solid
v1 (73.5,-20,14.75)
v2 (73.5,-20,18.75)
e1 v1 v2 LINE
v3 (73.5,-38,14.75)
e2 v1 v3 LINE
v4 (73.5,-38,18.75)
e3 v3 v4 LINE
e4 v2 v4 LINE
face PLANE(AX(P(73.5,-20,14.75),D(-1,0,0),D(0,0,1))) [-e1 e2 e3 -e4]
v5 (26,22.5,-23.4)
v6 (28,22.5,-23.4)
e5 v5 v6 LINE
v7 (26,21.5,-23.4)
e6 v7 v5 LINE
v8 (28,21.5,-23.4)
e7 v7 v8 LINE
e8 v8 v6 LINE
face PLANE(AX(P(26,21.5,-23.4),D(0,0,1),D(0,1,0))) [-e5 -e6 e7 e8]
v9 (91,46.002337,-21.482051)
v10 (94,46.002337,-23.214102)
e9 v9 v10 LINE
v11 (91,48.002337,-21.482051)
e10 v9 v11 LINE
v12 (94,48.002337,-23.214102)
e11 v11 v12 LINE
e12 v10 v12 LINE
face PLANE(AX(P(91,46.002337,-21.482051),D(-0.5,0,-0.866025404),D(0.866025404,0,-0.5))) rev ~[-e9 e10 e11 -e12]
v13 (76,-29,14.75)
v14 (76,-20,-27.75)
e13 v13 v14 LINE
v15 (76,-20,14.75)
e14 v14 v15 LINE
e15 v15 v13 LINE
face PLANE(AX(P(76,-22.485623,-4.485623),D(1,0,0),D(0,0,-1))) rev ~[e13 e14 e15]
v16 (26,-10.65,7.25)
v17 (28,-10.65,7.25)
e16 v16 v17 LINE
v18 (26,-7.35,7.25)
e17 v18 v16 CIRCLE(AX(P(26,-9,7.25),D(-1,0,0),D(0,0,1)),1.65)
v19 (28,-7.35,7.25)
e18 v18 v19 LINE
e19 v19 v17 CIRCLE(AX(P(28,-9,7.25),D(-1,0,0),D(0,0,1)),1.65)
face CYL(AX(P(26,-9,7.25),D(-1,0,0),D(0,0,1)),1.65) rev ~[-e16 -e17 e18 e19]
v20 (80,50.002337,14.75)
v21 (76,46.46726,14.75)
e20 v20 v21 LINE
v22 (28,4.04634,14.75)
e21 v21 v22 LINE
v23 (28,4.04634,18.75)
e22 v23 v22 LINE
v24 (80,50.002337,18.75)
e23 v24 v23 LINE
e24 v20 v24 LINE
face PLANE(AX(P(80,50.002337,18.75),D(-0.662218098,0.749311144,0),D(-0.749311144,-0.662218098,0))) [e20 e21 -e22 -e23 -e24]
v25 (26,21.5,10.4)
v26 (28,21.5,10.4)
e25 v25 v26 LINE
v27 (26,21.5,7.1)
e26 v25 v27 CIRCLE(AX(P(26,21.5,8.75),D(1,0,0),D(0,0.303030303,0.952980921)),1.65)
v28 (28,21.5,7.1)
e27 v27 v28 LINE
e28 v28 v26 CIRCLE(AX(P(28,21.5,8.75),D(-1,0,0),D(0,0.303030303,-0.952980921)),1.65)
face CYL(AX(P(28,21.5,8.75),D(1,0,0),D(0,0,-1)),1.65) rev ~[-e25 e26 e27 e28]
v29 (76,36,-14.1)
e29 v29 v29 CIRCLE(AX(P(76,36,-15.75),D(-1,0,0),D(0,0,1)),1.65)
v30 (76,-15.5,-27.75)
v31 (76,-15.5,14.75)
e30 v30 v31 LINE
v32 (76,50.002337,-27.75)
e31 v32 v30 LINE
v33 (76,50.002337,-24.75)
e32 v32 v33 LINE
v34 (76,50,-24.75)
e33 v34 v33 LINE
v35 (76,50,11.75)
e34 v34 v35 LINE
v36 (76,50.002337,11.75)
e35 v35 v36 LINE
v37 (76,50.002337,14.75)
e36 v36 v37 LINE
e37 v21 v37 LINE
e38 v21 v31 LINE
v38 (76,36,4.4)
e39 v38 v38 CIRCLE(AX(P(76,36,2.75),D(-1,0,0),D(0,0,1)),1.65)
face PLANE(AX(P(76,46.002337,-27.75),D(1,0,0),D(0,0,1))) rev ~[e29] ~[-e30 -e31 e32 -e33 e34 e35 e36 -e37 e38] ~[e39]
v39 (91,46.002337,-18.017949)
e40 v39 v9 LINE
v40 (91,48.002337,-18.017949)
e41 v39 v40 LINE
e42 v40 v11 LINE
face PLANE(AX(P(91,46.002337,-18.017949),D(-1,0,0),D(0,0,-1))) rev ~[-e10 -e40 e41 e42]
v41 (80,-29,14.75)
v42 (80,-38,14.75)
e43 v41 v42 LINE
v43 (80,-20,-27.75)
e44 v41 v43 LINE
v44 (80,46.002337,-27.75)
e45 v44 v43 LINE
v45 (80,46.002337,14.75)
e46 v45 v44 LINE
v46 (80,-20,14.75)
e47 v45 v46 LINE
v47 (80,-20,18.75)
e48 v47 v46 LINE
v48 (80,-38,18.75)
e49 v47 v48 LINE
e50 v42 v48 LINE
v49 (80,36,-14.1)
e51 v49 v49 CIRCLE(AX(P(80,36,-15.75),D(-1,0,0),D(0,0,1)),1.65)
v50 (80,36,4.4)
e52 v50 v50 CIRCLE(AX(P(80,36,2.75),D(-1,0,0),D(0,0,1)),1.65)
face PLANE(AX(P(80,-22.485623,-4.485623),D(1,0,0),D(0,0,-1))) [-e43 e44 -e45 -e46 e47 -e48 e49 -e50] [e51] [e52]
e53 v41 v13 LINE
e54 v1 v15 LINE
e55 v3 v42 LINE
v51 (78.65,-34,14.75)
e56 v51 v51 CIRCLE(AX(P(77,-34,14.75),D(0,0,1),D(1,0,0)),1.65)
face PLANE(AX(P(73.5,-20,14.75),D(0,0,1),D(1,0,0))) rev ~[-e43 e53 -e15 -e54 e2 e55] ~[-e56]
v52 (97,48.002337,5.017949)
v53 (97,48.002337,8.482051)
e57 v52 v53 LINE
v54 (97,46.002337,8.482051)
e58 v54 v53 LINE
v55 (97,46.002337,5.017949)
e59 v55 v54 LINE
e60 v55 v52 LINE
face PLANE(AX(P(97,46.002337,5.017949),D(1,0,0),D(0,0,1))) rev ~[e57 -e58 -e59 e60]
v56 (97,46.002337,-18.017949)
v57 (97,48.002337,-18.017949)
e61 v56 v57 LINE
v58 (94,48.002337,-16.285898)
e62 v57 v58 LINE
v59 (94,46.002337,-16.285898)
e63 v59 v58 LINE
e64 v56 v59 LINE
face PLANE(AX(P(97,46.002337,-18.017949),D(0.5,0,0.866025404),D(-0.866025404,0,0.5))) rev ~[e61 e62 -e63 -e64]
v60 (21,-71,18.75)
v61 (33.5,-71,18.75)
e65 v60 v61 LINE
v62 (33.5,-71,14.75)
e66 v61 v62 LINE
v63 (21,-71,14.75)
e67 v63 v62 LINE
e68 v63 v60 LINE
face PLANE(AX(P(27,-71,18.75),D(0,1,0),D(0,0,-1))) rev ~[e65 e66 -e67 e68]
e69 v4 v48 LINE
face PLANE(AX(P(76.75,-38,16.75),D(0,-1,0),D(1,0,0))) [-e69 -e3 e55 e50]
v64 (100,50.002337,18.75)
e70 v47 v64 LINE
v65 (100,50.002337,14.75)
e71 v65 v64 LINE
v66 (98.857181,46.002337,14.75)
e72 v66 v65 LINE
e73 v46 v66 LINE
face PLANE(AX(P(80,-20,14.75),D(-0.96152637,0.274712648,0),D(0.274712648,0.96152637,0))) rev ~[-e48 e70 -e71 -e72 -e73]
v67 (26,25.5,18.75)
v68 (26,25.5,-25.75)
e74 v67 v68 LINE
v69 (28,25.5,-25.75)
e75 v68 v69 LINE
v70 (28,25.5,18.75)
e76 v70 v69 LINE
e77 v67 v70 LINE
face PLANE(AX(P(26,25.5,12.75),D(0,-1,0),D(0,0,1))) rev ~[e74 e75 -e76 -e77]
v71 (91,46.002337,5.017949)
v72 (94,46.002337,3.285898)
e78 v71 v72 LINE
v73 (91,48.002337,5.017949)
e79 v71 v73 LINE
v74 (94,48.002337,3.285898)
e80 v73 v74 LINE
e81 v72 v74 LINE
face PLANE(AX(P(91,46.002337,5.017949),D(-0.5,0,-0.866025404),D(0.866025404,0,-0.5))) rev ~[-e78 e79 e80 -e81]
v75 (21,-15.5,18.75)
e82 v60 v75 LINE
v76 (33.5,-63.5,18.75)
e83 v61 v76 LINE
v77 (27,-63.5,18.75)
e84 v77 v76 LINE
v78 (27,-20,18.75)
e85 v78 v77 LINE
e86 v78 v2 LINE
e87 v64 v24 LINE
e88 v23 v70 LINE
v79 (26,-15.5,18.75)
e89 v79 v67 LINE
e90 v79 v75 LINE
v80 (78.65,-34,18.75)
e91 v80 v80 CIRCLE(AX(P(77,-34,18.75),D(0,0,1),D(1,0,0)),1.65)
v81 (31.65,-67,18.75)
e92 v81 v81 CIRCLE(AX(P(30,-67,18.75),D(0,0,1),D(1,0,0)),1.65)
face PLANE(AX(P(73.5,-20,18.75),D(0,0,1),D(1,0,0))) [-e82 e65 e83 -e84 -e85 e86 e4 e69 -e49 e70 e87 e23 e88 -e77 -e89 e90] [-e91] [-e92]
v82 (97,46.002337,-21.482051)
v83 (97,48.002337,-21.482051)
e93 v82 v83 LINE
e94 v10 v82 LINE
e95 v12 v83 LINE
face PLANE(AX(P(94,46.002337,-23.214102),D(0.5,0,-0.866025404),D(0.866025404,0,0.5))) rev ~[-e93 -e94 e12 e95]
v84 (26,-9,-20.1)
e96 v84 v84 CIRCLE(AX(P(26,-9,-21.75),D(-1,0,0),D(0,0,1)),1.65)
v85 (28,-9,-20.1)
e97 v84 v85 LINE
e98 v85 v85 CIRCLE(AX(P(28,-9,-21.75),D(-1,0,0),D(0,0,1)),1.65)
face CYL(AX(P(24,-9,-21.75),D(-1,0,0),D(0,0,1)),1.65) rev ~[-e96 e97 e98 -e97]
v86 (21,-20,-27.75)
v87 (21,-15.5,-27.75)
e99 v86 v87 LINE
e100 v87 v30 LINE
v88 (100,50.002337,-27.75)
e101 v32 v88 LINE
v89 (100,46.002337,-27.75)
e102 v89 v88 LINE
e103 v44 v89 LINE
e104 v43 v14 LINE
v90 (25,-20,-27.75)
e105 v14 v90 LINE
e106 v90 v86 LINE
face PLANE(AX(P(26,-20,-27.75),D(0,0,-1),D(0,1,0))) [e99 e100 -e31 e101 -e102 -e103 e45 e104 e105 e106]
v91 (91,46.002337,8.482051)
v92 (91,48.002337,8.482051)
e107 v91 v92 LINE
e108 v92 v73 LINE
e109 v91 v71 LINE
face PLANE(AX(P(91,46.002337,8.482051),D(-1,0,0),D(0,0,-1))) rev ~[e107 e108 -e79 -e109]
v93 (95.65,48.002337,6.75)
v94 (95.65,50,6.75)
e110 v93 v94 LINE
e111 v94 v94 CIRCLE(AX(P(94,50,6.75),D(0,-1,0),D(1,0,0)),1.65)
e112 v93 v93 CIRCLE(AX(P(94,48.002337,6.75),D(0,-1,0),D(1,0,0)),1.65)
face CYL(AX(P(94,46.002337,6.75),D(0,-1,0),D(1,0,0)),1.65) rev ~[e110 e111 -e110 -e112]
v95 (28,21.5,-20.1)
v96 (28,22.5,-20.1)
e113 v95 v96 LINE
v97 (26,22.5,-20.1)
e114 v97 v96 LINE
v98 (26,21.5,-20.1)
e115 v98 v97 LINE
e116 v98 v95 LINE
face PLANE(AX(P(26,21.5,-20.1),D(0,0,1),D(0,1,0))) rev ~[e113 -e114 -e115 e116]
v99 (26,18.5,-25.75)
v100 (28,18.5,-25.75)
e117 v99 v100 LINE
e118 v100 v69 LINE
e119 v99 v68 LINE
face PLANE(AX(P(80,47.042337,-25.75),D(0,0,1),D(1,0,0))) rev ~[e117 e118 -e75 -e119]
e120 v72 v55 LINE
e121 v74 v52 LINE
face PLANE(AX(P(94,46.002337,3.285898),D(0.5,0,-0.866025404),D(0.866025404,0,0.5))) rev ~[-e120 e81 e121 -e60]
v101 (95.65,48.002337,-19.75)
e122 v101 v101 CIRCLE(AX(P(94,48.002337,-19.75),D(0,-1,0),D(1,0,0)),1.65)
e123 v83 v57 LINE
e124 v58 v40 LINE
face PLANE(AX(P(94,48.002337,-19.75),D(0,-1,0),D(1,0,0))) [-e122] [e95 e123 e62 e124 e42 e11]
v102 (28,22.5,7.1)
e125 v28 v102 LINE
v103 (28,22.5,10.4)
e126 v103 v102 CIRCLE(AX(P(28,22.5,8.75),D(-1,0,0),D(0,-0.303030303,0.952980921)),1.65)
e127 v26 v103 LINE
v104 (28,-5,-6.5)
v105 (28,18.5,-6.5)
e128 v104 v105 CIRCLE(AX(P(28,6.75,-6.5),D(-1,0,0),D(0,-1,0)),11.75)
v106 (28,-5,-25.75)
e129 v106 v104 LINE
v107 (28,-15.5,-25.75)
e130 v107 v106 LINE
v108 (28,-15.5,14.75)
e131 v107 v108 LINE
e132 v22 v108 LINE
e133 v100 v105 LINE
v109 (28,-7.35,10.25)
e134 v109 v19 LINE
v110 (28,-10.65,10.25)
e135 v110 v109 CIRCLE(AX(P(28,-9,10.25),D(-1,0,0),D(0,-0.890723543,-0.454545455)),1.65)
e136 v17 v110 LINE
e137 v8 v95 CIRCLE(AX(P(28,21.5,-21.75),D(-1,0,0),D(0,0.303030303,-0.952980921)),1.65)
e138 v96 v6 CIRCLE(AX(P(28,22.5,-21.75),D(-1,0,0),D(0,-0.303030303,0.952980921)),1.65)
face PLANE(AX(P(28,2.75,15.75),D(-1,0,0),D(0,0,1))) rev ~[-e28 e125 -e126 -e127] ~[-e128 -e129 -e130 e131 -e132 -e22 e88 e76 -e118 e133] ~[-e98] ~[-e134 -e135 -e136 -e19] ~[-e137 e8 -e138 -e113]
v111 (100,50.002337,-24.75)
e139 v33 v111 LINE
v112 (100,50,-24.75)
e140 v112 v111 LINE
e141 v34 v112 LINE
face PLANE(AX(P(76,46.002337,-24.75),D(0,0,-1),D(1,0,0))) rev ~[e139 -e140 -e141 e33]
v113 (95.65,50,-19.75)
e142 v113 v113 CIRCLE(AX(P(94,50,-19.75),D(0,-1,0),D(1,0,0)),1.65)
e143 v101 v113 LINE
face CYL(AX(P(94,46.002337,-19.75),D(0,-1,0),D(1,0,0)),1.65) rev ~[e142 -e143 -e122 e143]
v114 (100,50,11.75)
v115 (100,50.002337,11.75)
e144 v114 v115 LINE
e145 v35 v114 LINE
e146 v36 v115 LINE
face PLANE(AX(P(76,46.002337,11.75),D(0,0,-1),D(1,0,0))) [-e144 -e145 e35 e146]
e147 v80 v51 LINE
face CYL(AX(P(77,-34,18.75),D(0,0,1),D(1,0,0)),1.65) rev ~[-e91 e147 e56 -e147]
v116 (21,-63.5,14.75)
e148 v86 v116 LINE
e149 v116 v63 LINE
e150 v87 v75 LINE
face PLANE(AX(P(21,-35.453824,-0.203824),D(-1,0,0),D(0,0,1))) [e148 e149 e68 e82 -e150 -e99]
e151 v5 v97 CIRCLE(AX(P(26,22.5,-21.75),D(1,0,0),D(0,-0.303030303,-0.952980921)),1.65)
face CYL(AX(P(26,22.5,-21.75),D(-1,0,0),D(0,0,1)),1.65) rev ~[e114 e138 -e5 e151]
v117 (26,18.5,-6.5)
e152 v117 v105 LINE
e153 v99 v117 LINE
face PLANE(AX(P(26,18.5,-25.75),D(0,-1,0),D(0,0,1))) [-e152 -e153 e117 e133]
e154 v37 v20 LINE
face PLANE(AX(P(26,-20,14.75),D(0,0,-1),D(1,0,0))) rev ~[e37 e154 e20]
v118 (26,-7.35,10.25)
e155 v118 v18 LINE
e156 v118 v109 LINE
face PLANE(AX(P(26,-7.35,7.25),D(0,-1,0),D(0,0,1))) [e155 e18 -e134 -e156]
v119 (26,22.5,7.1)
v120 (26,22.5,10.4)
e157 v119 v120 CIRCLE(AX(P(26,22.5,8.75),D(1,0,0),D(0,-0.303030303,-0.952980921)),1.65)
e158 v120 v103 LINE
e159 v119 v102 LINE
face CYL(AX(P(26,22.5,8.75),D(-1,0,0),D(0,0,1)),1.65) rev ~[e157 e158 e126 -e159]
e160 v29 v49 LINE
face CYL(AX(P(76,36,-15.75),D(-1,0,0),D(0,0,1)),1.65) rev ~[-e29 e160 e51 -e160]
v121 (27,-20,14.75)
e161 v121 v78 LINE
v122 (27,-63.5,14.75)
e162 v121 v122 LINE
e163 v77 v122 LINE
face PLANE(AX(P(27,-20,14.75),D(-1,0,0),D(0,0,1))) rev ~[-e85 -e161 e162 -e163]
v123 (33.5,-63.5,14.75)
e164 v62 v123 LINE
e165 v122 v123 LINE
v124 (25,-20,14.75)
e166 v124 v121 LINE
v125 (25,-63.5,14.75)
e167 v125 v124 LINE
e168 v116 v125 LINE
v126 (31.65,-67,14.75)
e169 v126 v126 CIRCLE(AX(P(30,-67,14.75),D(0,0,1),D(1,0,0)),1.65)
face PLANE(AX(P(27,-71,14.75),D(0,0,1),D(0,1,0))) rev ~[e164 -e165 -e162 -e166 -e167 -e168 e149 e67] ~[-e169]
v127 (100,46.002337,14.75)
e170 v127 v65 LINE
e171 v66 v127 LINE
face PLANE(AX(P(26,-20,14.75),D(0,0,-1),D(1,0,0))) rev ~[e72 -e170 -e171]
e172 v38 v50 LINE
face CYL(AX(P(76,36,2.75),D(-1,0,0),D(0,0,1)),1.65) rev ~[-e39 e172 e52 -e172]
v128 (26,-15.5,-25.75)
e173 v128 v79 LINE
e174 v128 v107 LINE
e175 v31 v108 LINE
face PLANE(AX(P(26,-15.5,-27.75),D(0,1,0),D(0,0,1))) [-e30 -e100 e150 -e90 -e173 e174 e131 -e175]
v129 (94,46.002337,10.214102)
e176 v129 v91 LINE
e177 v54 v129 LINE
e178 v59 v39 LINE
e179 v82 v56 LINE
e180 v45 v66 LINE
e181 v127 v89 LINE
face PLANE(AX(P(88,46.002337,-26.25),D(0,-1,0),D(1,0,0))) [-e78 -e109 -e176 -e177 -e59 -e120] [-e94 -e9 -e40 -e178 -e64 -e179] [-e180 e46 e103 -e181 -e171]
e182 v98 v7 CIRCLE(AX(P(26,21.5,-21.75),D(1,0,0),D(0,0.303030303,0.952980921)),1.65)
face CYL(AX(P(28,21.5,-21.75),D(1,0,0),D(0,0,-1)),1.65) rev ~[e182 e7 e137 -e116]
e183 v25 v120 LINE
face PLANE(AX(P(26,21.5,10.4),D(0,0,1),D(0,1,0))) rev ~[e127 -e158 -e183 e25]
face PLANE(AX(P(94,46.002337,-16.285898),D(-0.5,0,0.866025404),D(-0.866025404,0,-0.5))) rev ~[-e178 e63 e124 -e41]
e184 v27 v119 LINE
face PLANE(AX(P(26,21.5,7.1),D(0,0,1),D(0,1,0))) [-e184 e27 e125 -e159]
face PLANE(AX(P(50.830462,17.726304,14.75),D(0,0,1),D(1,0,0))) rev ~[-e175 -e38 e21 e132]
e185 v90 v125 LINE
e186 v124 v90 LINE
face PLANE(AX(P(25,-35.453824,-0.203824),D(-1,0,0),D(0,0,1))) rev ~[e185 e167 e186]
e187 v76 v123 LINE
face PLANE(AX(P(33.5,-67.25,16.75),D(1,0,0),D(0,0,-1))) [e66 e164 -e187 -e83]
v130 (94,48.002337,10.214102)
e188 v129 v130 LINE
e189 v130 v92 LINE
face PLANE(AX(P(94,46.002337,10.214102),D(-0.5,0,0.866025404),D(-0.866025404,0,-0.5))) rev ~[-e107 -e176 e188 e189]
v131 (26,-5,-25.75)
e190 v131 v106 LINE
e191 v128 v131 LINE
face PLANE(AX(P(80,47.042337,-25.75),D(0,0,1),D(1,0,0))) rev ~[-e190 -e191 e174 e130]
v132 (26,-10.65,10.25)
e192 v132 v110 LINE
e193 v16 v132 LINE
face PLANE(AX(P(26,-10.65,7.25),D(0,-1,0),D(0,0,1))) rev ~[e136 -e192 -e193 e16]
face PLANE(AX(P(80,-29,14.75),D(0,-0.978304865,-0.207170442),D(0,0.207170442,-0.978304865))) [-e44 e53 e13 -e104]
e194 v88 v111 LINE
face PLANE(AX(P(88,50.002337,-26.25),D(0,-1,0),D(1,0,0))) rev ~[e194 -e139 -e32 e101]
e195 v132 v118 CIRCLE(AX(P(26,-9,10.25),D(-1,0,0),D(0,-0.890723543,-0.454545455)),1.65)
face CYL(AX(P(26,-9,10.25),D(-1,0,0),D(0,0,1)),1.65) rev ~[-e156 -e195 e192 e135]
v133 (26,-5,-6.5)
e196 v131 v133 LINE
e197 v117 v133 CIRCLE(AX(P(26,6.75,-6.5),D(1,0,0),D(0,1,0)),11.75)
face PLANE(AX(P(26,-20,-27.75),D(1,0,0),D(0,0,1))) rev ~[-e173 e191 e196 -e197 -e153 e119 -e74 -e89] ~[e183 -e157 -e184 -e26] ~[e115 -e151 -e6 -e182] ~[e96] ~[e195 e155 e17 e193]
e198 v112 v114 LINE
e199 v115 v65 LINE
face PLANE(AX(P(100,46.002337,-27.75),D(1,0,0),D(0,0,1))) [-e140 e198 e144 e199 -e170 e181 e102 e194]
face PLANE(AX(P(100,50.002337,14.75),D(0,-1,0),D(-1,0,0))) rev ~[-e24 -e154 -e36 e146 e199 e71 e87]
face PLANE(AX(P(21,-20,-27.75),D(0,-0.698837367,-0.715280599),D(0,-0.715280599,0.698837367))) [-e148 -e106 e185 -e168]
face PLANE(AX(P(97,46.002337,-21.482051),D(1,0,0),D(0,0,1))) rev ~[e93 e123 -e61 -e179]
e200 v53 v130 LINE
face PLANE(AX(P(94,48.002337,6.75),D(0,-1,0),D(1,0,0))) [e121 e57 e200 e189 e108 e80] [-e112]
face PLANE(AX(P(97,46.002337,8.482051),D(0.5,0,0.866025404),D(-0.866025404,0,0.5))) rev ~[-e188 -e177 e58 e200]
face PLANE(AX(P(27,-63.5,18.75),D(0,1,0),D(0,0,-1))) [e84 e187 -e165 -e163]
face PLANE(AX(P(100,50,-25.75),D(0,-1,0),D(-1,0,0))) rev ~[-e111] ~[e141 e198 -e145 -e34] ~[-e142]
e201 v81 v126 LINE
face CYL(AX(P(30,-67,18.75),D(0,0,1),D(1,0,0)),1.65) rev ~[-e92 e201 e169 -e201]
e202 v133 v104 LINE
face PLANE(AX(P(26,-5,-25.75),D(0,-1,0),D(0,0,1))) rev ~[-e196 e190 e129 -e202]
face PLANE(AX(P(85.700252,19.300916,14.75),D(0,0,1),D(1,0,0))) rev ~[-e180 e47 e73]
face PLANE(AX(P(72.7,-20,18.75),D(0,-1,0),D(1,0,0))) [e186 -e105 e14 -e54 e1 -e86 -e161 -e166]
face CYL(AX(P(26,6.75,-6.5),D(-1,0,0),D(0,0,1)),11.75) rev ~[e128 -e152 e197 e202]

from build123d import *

# Parameters (mm, degrees)
SKETCH1_W                 = 13
SKETCH1_H                 = 16
BOSS_EXTRUDE1_DEPTH       = 4
SKETCH2_R                 = 1.65
CUT_EXTRUDE1_DEPTH        = 10
SKETCH3_W                 = 4
SKETCH3_H                 = 13
BOSS_EXTRUDE2_DEPTH       = 4
SKETCH4_W                 = 13
SKETCH4_H                 = 4
BOSS_EXTRUDE3_DEPTH       = 60
SKETCH6_W                 = 4
SKETCH6_H                 = 21
SKETCH6_H_2               = 13
BOSS_EXTRUDE4_DEPTH       = 28
SKETCH12_W                = 4
SKETCH12_H                = 28
BOSS_EXTRUDE8_DEPTH       = 1.65
SKETCH13_W                = 4
SKETCH13_H                = 28
BOSS_EXTRUDE9_DEPTH       = 1.65
SKETCH14_W                = 4
SKETCH14_H                = 35.878399396
CUT_EXTRUDE5_DEPTH        = 24
SKETCH15_R                = 1.65
CUT_EXTRUDE6_DEPTH        = 24
SKETCH16_W                = 4
SKETCH16_H                = 11.121600604
SKETCH16_H_2              = 11.3
BOSS_EXTRUDE10_DEPTH      = 29.15
SKETCH17_R                = 1.65
CUT_EXTRUDE8_DEPTH        = 29.15
SKETCH18_W                = 22.65
SKETCH18_H                = 4
SKETCH18_W_2              = 13
BOSS_EXTRUDE11_DEPTH      = 4
SKETCH19_W                = 4
SKETCH19_H                = 20
BOSS_EXTRUDE12_DEPTH      = 40
SKETCH20_R                = 1.65
CUT_EXTRUDE9_DEPTH        = 40
SKETCH21_W                = 4
SKETCH21_H                = 30.5
BOSS_EXTRUDE13_DEPTH      = 38.5
SKETCH23_W                = 4
SKETCH23_H                = 4
BOSS_EXTRUDE14_DEPTH      = 38.5
SKETCH24_W                = 4
SKETCH24_H                = 38.5
BOSS_EXTRUDE15_DEPTH      = 3
SKETCH27_W                = 4
SKETCH27_H                = 58.3
CUT_EXTRUDE10_DEPTH       = 100
SKETCH29_W                = 38.5
SKETCH29_H                = 7
BOSS_EXTRUDE16_DEPTH      = 40
BOSS_EXTRUDE16_DEPTH_BACK = 28
SKETCH30_R                = 1.65
CUT_EXTRUDE11_DEPTH       = 40
SKETCH31_W                = 4
SKETCH31_H                = 22.5
CUT_EXTRUDE12_DEPTH       = 38.5
SKETCH32_W                = 38.5
SKETCH32_H                = 2.5
CUT_EXTRUDE13_DEPTH       = 40
SKETCH33_W                = 4
SKETCH33_H                = 8
BOSS_EXTRUDE17_DEPTH      = 8
SKETCH34_R                = 1.65
CUT_EXTRUDE14_DEPTH       = 8
SKETCH35_W                = 4
SKETCH35_H                = 43.5
BOSS_EXTRUDE18_DEPTH      = 13
CUT_EXTRUDE15_START       = -20
SKETCH36_W                = 10
SKETCH36_H                = 80
CUT_EXTRUDE15_DEPTH       = 20
SKETCH37_W                = 5
SKETCH37_H                = 7
BOSS_EXTRUDE19_DEPTH      = 4
SKETCH41_W                = 13
SKETCH41_H                = 20
BOSS_EXTRUDE20_DEPTH      = 4
SKETCH42_R                = 1.65
CUT_EXTRUDE18_DEPTH       = 4
SKETCH43_W                = 4
SKETCH43_H                = 38.5
CUT_EXTRUDE19_DEPTH       = 10
SKETCH44_W                = 8
SKETCH44_H                = 9
BOSS_EXTRUDE21_DEPTH      = 4
SKETCH45_R                = 1.65
CUT_EXTRUDE20_DEPTH       = 4
CUT_EXTRUDE21_DEPTH       = 3
SKETCH49_R                = 1.65
CUT_EXTRUDE22_DEPTH       = 5
SKETCH54_W                = 1
SKETCH54_H                = 38.5
CUT_EXTRUDE24_DEPTH       = 50
SKETCH55_W                = 8
SKETCH55_H                = 10
BOSS_EXTRUDE22_DEPTH      = 4
SKETCH56_R                = 1.65
CUT_EXTRUDE25_DEPTH       = 4
SKETCH57_W                = 25
SKETCH57_H                = 70
CUT_EXTRUDE26_DEPTH       = 15
CUT_EXTRUDE26_DEPTH_BACK  = 10
SKETCH58_W                = 47.5
SKETCH58_H                = 38.5
BOSS_EXTRUDE24_DEPTH      = 4.5
SKETCH59_W                = 0.5
SKETCH59_H                = 38.5
BOSS_EXTRUDE25_DEPTH      = 4.5
SKETCH60_W                = 4
SKETCH60_H                = 38.5
BOSS_EXTRUDE26_DEPTH      = 69.5
SKETCH61_W                = 38.5
SKETCH61_H                = 2.457662878
BOSS_EXTRUDE27_DEPTH      = 20
SKETCH62_W                = 38.5
SKETCH62_H                = 2
BOSS_EXTRUDE31_DEPTH      = 29.5
SKETCH64_W                = 4
SKETCH64_H                = 13
BOSS_EXTRUDE32_DEPTH      = 16
SKETCH65_R                = 1.65
CUT_EXTRUDE27_DEPTH       = 16
SKETCH66_W                = 24
SKETCH66_H                = 0.5
BOSS_EXTRUDE33_DEPTH      = 38.5
SKETCH69_W                = 20
SKETCH69_H                = 38.5
BOSS_EXTRUDE34_DEPTH      = 1.04
SKETCH70_R                = 1.65
CUT_EXTRUDE29_DEPTH       = 10
SKETCH72_W                = 2
SKETCH72_H                = 38.5
CUT_EXTRUDE31_DEPTH       = 60
SKETCH73_W                = 22.5
SKETCH73_H                = 38.5
BOSS_EXTRUDE35_DEPTH      = 2
SKETCH74_R                = 11.25
CUT_EXTRUDE32_DEPTH       = 2
SKETCH76_R                = 1.65
CUT_EXTRUDE34_DEPTH       = 5
SKETCH77_W                = 35
SKETCH77_H                = 30
CUT_EXTRUDE35_DEPTH       = 1000
SKETCH78_R                = 11.75
CUT_EXTRUDE36_DEPTH       = 10
SKETCH79_W                = 19.25
SKETCH79_H                = 23.5
CUT_EXTRUDE37_DEPTH       = 10
SKETCH80_R                = 1.65
CUT_EXTRUDE38_DEPTH       = 10
SKETCH81_W                = 3.3
SKETCH81_H                = 1
CUT_EXTRUDE39_DEPTH       = 10
CUT_EXTRUDE41_DEPTH       = 2
SKETCH83_W                = 54
SKETCH83_H                = 42.5
BOSS_EXTRUDE37_DEPTH      = 4.5
SKETCH84_W                = 2
SKETCH84_H                = 61.502337122
BOSS_EXTRUDE38_DEPTH      = 4
SKETCH85_W                = 24
SKETCH85_H                = 3
BOSS_EXTRUDE40_DEPTH      = 4
BOSS_EXTRUDE41_DEPTH      = 4
BOSS_EXTRUDE42_DEPTH      = 4
SKETCH89_W                = 6
SKETCH89_H                = 45.5
BOSS_EXTRUDE43_DEPTH      = 2
BOSS_EXTRUDE44_DEPTH      = 4
SKETCH91_R                = 1.65
CUT_EXTRUDE42_DEPTH       = 10
SKETCH92_R                = 1.65
CUT_EXTRUDE43_DEPTH       = 10
SKETCH93_W                = 3
SKETCH93_H                = 3.3
CUT_EXTRUDE44_DEPTH       = 10
SKETCH95_W                = 46.5
SKETCH95_H                = 4.5
BOSS_EXTRUDE45_DEPTH      = 5
SKETCH96_W                = 7.3
SKETCH96_H                = 4
BOSS_EXTRUDE47_DEPTH      = 18
SKETCH99_R                = 1.65
CUT_EXTRUDE47_DEPTH       = 18
SKETCH100_W               = 6
SKETCH100_H               = 4
BOSS_EXTRUDE48_DEPTH      = 51
SKETCH101_W               = 4
SKETCH101_H               = 7.5
BOSS_EXTRUDE50_DEPTH      = 6.5
SKETCH103_R               = 1.65
CUT_EXTRUDE48_DEPTH       = 6.5
SKETCH104_W               = 7.3
SKETCH104_H               = 18
CUT_EXTRUDE49_DEPTH       = 6.5
SKETCH105_W               = 6.5
SKETCH105_H               = 4
BOSS_EXTRUDE51_DEPTH      = 18
SKETCH106_R               = 1.65
CUT_EXTRUDE50_DEPTH       = 18
BOSS_EXTRUDE52_DEPTH      = 4
BOSS_EXTRUDE53_DEPTH      = 4


with BuildPart() as part:
    # Sketch1 → Boss-Extrude1 (new body)
    with BuildSketch(Plane(origin=(0, 0, 0), x_dir=(0, 0, -1), z_dir=(1, 0, 0))):
        with Locations((6.5, -8)):
            Rectangle(SKETCH1_W, SKETCH1_H)
    extrude(amount=BOSS_EXTRUDE1_DEPTH)

    # Sketch2 → Cut-Extrude1 (cut)
    with BuildSketch(Plane(origin=(4, 0, 0), x_dir=(0, 0, -1), z_dir=(1, 0, 0))):
        with Locations((6.5, -4)):
            Circle(SKETCH2_R)
        with Locations((6.5, -12)):
            Circle(SKETCH2_R)
    extrude(amount=-CUT_EXTRUDE1_DEPTH, mode=Mode.SUBTRACT)

    # Sketch3 → Boss-Extrude2 (add)
    with BuildSketch(Plane.XZ.offset(16)):
        with Locations((2, -6.5)):
            Rectangle(SKETCH3_W, SKETCH3_H)
    extrude(amount=BOSS_EXTRUDE2_DEPTH)

    # Sketch4 → Boss-Extrude3 (add)
    with BuildSketch(Plane(origin=(4, 0, 0), x_dir=(0, 0, -1), z_dir=(1, 0, 0))):
        with Locations((6.5, -18)):
            Rectangle(SKETCH4_W, SKETCH4_H)
    extrude(amount=BOSS_EXTRUDE3_DEPTH)

    # Sketch6 → Boss-Extrude4 (add)
    with BuildSketch(Plane(origin=(0, -16, 0), x_dir=(1, 0, 0), z_dir=(0, 1, 0))):
        with Locations((62, -10.5)):
            Rectangle(SKETCH6_W, SKETCH6_H)
        with Locations((62, 23.5)):
            Rectangle(SKETCH6_W, SKETCH6_H)
        with Locations((62, 6.5)):
            Rectangle(SKETCH6_W, SKETCH6_H_2)
    extrude(amount=BOSS_EXTRUDE4_DEPTH)

    # Sketch12 → Boss-Extrude8 (add)
    with BuildSketch(Plane(origin=(0, 0, -34), x_dir=(-1, 0, 0), z_dir=(0, 0, -1))):
        with Locations((-62, -2)):
            Rectangle(SKETCH12_W, SKETCH12_H)
    extrude(amount=BOSS_EXTRUDE8_DEPTH)

    # Sketch13 → Boss-Extrude9 (add)
    with BuildSketch(Plane.XY.offset(21)):
        with Locations((62, -2)):
            Rectangle(SKETCH13_W, SKETCH13_H)
    extrude(amount=BOSS_EXTRUDE9_DEPTH)

    # Sketch14 → Cut-Extrude5 (cut)
    with BuildSketch(Plane(origin=(0, 12, 0), x_dir=(1, 0, 0), z_dir=(0, 1, 0))):
        with Locations((62, 6.410800302)):
            Rectangle(SKETCH14_W, SKETCH14_H)
    extrude(amount=-CUT_EXTRUDE5_DEPTH, mode=Mode.SUBTRACT)

    # Sketch15 → Cut-Extrude6 (cut)
    with BuildSketch(Plane(origin=(64, 0, 0), x_dir=(0, 0, -1), z_dir=(1, 0, 0))):
        with Locations((-17, -11.5)):
            Circle(SKETCH15_R)
        with Locations((30, -11.5)):
            Circle(SKETCH15_R)
    extrude(amount=-CUT_EXTRUDE6_DEPTH, mode=Mode.SUBTRACT)

    # Sketch16 → Boss-Extrude10 (add)
    with BuildSketch(Plane(origin=(0, 12, 0), x_dir=(1, 0, 0), z_dir=(0, 1, 0))):
        with Locations((62, -17.089199698)):
            Rectangle(SKETCH16_W, SKETCH16_H)
        with Locations((62, 30)):
            Rectangle(SKETCH16_W, SKETCH16_H_2)
    extrude(amount=BOSS_EXTRUDE10_DEPTH)

    # Sketch17 → Cut-Extrude8 (cut)
    with BuildSketch(Plane(origin=(64, 0, 0), x_dir=(0, 0, -1), z_dir=(1, 0, 0))):
        with Locations((-17, 35.5)):
            Circle(SKETCH17_R)
        with Locations((30, 35.5)):
            Circle(SKETCH17_R)
    extrude(amount=-CUT_EXTRUDE8_DEPTH, mode=Mode.SUBTRACT)

    # Sketch18 → Boss-Extrude11 (add)
    with BuildSketch(Plane(origin=(64, 0, 0), x_dir=(0, 0, -1), z_dir=(1, 0, 0))):
        with Locations((-11.325, -18)):
            Rectangle(SKETCH18_W, SKETCH18_H)
        with Locations((24.325, -18)):
            Rectangle(SKETCH18_W, SKETCH18_H)
        with Locations((6.5, -18)):
            Rectangle(SKETCH18_W_2, SKETCH18_H)
    extrude(amount=-BOSS_EXTRUDE11_DEPTH)

    # Sketch19 → Boss-Extrude12 (add)
    with BuildSketch(Plane(origin=(0, 0, -13), x_dir=(-1, 0, 0), z_dir=(0, 0, -1))):
        with Locations((-2, -10)):
            Rectangle(SKETCH19_W, SKETCH19_H)
    extrude(amount=BOSS_EXTRUDE12_DEPTH)

    # Sketch20 → Cut-Extrude9 (cut)
    with BuildSketch(Plane.ZY):
        with Locations((-46.5, -4)):
            Circle(SKETCH20_R)
        with Locations((-46.5, -12)):
            Circle(SKETCH20_R)
    extrude(amount=-CUT_EXTRUDE9_DEPTH, mode=Mode.SUBTRACT)

    # Sketch21 → Boss-Extrude13 (add)
    with BuildSketch(Plane(origin=(0, -16, 0), x_dir=(1, 0, 0), z_dir=(0, 1, 0))):
        with Locations((26, 6.5)):
            Rectangle(SKETCH21_W, SKETCH21_H)
    extrude(amount=BOSS_EXTRUDE13_DEPTH)

    # Sketch23 → Boss-Extrude14 (add)
    with BuildSketch(Plane(origin=(0, 22.5, 0), x_dir=(1, 0, 0), z_dir=(0, 1, 0))):
        with Locations((26, 23.75)):
            Rectangle(SKETCH23_W, SKETCH23_H)
        with Locations((26, -10.75)):
            Rectangle(SKETCH23_W, SKETCH23_H)
    extrude(amount=-BOSS_EXTRUDE14_DEPTH)

    # Sketch24 → Boss-Extrude15 (add)
    with BuildSketch(Plane(origin=(0, 22.5, 0), x_dir=(1, 0, 0), z_dir=(0, 1, 0))):
        with Locations((26, 6.5)):
            Rectangle(SKETCH24_W, SKETCH24_H)
    extrude(amount=BOSS_EXTRUDE15_DEPTH)

    # Sketch27 → Cut-Extrude10 (cut)
    with BuildSketch(Plane.XZ.offset(20)):
        with Locations((62, -6.5)):
            Rectangle(SKETCH27_W, SKETCH27_H)
    extrude(amount=-CUT_EXTRUDE10_DEPTH, mode=Mode.SUBTRACT)

    # Sketch29 → Boss-Extrude16 (add, two sides)
    with BuildSketch(Plane(origin=(28, 0, 0), x_dir=(0, 0, -1), z_dir=(1, 0, 0))) as boss_extrude16_sk:
        with Locations((6.5, -16.5)):
            Rectangle(SKETCH29_W, SKETCH29_H)
    extrude(amount=BOSS_EXTRUDE16_DEPTH)
    extrude(boss_extrude16_sk.sketch, amount=-BOSS_EXTRUDE16_DEPTH_BACK)

    # Sketch30 → Cut-Extrude11 (cut)
    with BuildSketch(Plane.ZY.offset(-24)):
        with Locations((8.75, 21.5)):
            Circle(SKETCH30_R)
        with Locations((8.75, -9)):
            Circle(SKETCH30_R)
        with Locations((-21.75, 21.5)):
            Circle(SKETCH30_R)
        with Locations((-21.75, -9)):
            Circle(SKETCH30_R)
    extrude(amount=-CUT_EXTRUDE11_DEPTH, mode=Mode.SUBTRACT)

    # Sketch31 → Cut-Extrude12 (cut)
    with BuildSketch(Plane(origin=(0, 25.5, 0), x_dir=(1, 0, 0), z_dir=(0, 1, 0))):
        with Locations((26, 6.5)):
            Rectangle(SKETCH31_W, SKETCH31_H)
    extrude(amount=-CUT_EXTRUDE12_DEPTH, mode=Mode.SUBTRACT)

    # Sketch32 → Cut-Extrude13 (cut)
    with BuildSketch(Plane(origin=(68, 0, 0), x_dir=(0, 0, -1), z_dir=(1, 0, 0))):
        with Locations((6.5, -14.25)):
            Rectangle(SKETCH32_W, SKETCH32_H)
    extrude(amount=-CUT_EXTRUDE13_DEPTH, mode=Mode.SUBTRACT)

    # Sketch33 → Boss-Extrude17 (add)
    with BuildSketch(Plane(origin=(0, 25.5, 0), x_dir=(1, 0, 0), z_dir=(0, 1, 0))):
        with Locations((26, -8.75)):
            Rectangle(SKETCH33_W, SKETCH33_H)
        with Locations((26, 21.75)):
            Rectangle(SKETCH33_W, SKETCH33_H)
    extrude(amount=-BOSS_EXTRUDE17_DEPTH)

    # Sketch34 → Cut-Extrude14 (cut)
    with BuildSketch(Plane(origin=(28, 0, 0), x_dir=(0, 0, -1), z_dir=(1, 0, 0))):
        with Locations((-8.75, 21.5)):
            Circle(SKETCH34_R)
        with Locations((21.75, 21.5)):
            Circle(SKETCH34_R)
    extrude(amount=-CUT_EXTRUDE14_DEPTH, mode=Mode.SUBTRACT)

    # Sketch35 → Boss-Extrude18 (add)
    with BuildSketch(Plane(origin=(0, -13, 0), x_dir=(1, 0, 0), z_dir=(0, 1, 0))):
        with Locations((12, 9)):
            Rectangle(SKETCH35_W, SKETCH35_H)
    extrude(amount=BOSS_EXTRUDE18_DEPTH)

    # Sketch36 → Cut-Extrude15 (cut)
    with BuildSketch(Plane.XZ.offset(20).offset(CUT_EXTRUDE15_START)):
        with Locations((5, -27.25)):
            Rectangle(SKETCH36_W, SKETCH36_H)
    extrude(amount=CUT_EXTRUDE15_DEPTH, mode=Mode.SUBTRACT)

    # Sketch37 → Boss-Extrude19 (add)
    with BuildSketch(Plane.ZY.offset(-10)):
        with Locations((-28.25, -16.5)):
            Rectangle(SKETCH37_W, SKETCH37_H)
    extrude(amount=-BOSS_EXTRUDE19_DEPTH)

    # Sketch41 → Boss-Extrude20 (add)
    with BuildSketch(Plane(origin=(14, 0, 0), x_dir=(0, 0, -1), z_dir=(1, 0, 0))):
        with Locations((32.25, -10)):
            Rectangle(SKETCH41_W, SKETCH41_H)
    extrude(amount=-BOSS_EXTRUDE20_DEPTH)

    # Sketch42 → Cut-Extrude18 (cut)
    with BuildSketch(Plane.ZY.offset(-10)):
        with Locations((-32.25, -4)):
            Circle(SKETCH42_R)
        with Locations((-32.25, -12)):
            Circle(SKETCH42_R)
    extrude(amount=-CUT_EXTRUDE18_DEPTH, mode=Mode.SUBTRACT)

    # Sketch43 → Cut-Extrude19 (cut)
    with BuildSketch(Plane(origin=(0, 0, 0), x_dir=(1, 0, 0), z_dir=(0, 1, 0))):
        with Locations((12, 6.5)):
            Rectangle(SKETCH43_W, SKETCH43_H)
    extrude(amount=-CUT_EXTRUDE19_DEPTH, mode=Mode.SUBTRACT)

    # Sketch44 → Boss-Extrude21 (add)
    with BuildSketch(Plane(origin=(28, 0, 0), x_dir=(0, 0, -1), z_dir=(1, 0, 0))):
        with Locations((-8.75, -11)):
            Rectangle(SKETCH44_W, SKETCH44_H)
        with Locations((21.75, -11)):
            Rectangle(SKETCH44_W, SKETCH44_H)
    extrude(amount=-BOSS_EXTRUDE21_DEPTH)

    # Sketch45 → Cut-Extrude20 (cut)
    with BuildSketch(Plane.ZY.offset(-24)):
        with Locations((-21.75, -7)):
            Circle(SKETCH45_R)
        with Locations((8.75, -7)):
            Circle(SKETCH45_R)
    extrude(amount=-CUT_EXTRUDE20_DEPTH, mode=Mode.SUBTRACT)

    # Sketch46 → Cut-Extrude21 (cut)
    with BuildSketch(Plane(origin=(0, -15.5, 0), x_dir=(1, 0, 0), z_dir=(0, 1, 0))):
        Polygon((64, 18.285898385), (67, 20.017949192), (67, 23.482050808), (64, 25.214101615), (61, 23.482050808), (61, 20.017949192), align=None)
        Polygon((64, -12.214101615), (67, -10.482050808), (67, -7.017949192), (64, -5.285898385), (61, -7.017949192), (61, -10.482050808), align=None)
    extrude(amount=-CUT_EXTRUDE21_DEPTH, mode=Mode.SUBTRACT)

    # Sketch49 → Cut-Extrude22 (cut)
    with BuildSketch(Plane(origin=(0, -15.5, 0), x_dir=(1, 0, 0), z_dir=(0, 1, 0))):
        with Locations((64, 21.75)):
            Circle(SKETCH49_R)
        with Locations((64, -8.75)):
            Circle(SKETCH49_R)
    extrude(amount=-CUT_EXTRUDE22_DEPTH, mode=Mode.SUBTRACT)

    # Sketch54 → Cut-Extrude24 (cut)
    with BuildSketch(Plane(origin=(0, -10, 0), x_dir=(1, 0, 0), z_dir=(0, 1, 0))):
        with Locations((10.5, 6.5)):
            Rectangle(SKETCH54_W, SKETCH54_H)
    extrude(amount=-CUT_EXTRUDE24_DEPTH, mode=Mode.SUBTRACT)

    # Sketch55 → Boss-Extrude22 (add)
    with BuildSketch(Plane.ZY.offset(-24)):
        with Locations((8.75, -8)):
            Rectangle(SKETCH55_W, SKETCH55_H)
        with Locations((-21.75, -8)):
            Rectangle(SKETCH55_W, SKETCH55_H)
    extrude(amount=-BOSS_EXTRUDE22_DEPTH)

    # Sketch56 → Cut-Extrude25 (cut)
    with BuildSketch(Plane.ZY.offset(-24)):
        with Locations((-21.75, -9)):
            Circle(SKETCH56_R)
        with Locations((8.75, -9)):
            Circle(SKETCH56_R)
    extrude(amount=-CUT_EXTRUDE25_DEPTH, mode=Mode.SUBTRACT)

    # Sketch57 → Cut-Extrude26 (cut, two sides)
    with BuildSketch(Plane(origin=(0, -13, 0), x_dir=(1, 0, 0), z_dir=(0, 1, 0))) as cut_extrude26_sk:
        with Locations((11.5, 22.25)):
            Rectangle(SKETCH57_W, SKETCH57_H)
    extrude(amount=CUT_EXTRUDE26_DEPTH, mode=Mode.SUBTRACT)
    extrude(cut_extrude26_sk.sketch, amount=-CUT_EXTRUDE26_DEPTH_BACK, mode=Mode.SUBTRACT)

    # Sketch58 → Boss-Extrude24 (add)
    with BuildSketch(Plane.XZ.offset(20)):
        with Locations((51.75, -6.5)):
            Rectangle(SKETCH58_W, SKETCH58_H)
    extrude(amount=-BOSS_EXTRUDE24_DEPTH)

    # Sketch59 → Boss-Extrude25 (add)
    with BuildSketch(Plane.XZ.offset(20)):
        with Locations((75.75, -6.5)):
            Rectangle(SKETCH59_W, SKETCH59_H)
    extrude(amount=-BOSS_EXTRUDE25_DEPTH)

    # Sketch60 → Boss-Extrude26 (add)
    with BuildSketch(Plane.XZ.offset(20)):
        with Locations((78, -6.5)):
            Rectangle(SKETCH60_W, SKETCH60_H)
    extrude(amount=-BOSS_EXTRUDE26_DEPTH)

    # Sketch61 → Boss-Extrude27 (add)
    with BuildSketch(Plane(origin=(80, 0, 0), x_dir=(0, 0, -1), z_dir=(1, 0, 0))):
        with Locations((6.5, 48.271168561)):
            Rectangle(SKETCH61_W, SKETCH61_H)
    extrude(amount=BOSS_EXTRUDE27_DEPTH)

    # Sketch62 → Boss-Extrude31 (add)
    with BuildSketch(Plane.ZY.offset(-76)):
        with Locations((-6.5, 29)):
            Rectangle(SKETCH62_W, SKETCH62_H)
    extrude(amount=BOSS_EXTRUDE31_DEPTH)

    # Sketch64 → Boss-Extrude32 (add)
    with BuildSketch(Plane(origin=(0, 30, 0), x_dir=(1, 0, 0), z_dir=(0, 1, 0))):
        with Locations((48.5, 6.5)):
            Rectangle(SKETCH64_W, SKETCH64_H)
    extrude(amount=BOSS_EXTRUDE32_DEPTH)

    # Sketch65 → Cut-Extrude27 (cut)
    with BuildSketch(Plane.ZY.offset(-46.5)):
        with Locations((-6.5, 34)):
            Circle(SKETCH65_R)
        with Locations((-6.5, 42)):
            Circle(SKETCH65_R)
    extrude(amount=-CUT_EXTRUDE27_DEPTH, mode=Mode.SUBTRACT)

    # Sketch66 → Boss-Extrude33 (add)
    with BuildSketch(Plane(origin=(0, 0, -25.75), x_dir=(-1, 0, 0), z_dir=(0, 0, -1))):
        with Locations((-88, 49.75)):
            Rectangle(SKETCH66_W, SKETCH66_H)
    extrude(amount=-BOSS_EXTRUDE33_DEPTH)

    # Sketch69 → Boss-Extrude34 (add)
    with BuildSketch(Plane.XZ.offset(-47.042337122)):
        with Locations((90, -6.5)):
            Rectangle(SKETCH69_W, SKETCH69_H)
    extrude(amount=BOSS_EXTRUDE34_DEPTH)

    # Sketch70 → Cut-Extrude29 (cut)
    with BuildSketch(Plane.XZ.offset(-46.002337122)):
        with Locations((94, 6.75)):
            Circle(SKETCH70_R)
        with Locations((94, -19.75)):
            Circle(SKETCH70_R)
    extrude(amount=-CUT_EXTRUDE29_DEPTH, mode=Mode.SUBTRACT)

    # Sketch72 → Cut-Extrude31 (cut)
    with BuildSketch(Plane.XZ.offset(20)):
        with Locations((25, -6.5)):
            Rectangle(SKETCH72_W, SKETCH72_H)
    extrude(amount=-CUT_EXTRUDE31_DEPTH, mode=Mode.SUBTRACT)

    # Sketch73 → Boss-Extrude35 (add)
    with BuildSketch(Plane.ZY.offset(-26)):
        with Locations((-6.5, 6.25)):
            Rectangle(SKETCH73_W, SKETCH73_H)
    extrude(amount=-BOSS_EXTRUDE35_DEPTH)

    # Sketch74 → Cut-Extrude32 (cut)
    with BuildSketch(Plane.ZY.offset(-26)):
        with Locations((-6.5, 6.25)):
            Circle(SKETCH74_R)
    extrude(amount=-CUT_EXTRUDE32_DEPTH, mode=Mode.SUBTRACT)

    # Sketch76 → Cut-Extrude34 (cut)
    with BuildSketch(Plane.ZY.offset(-76)):
        with Locations((2.75, 36)):
            Circle(SKETCH76_R)
        with Locations((-15.75, 36)):
            Circle(SKETCH76_R)
    extrude(amount=-CUT_EXTRUDE34_DEPTH, mode=Mode.SUBTRACT)

    # Sketch77 → Cut-Extrude35 (cut)
    with BuildSketch(Plane.XY.offset(12.75)):
        with Locations((58.5, 43)):
            Rectangle(SKETCH77_W, SKETCH77_H)
    extrude(amount=-CUT_EXTRUDE35_DEPTH, mode=Mode.SUBTRACT)

    # Sketch78 → Cut-Extrude36 (cut)
    with BuildSketch(Plane.ZY.offset(-26)):
        with Locations((-6.5, 6.75)):
            Circle(SKETCH78_R)
    extrude(amount=-CUT_EXTRUDE36_DEPTH, mode=Mode.SUBTRACT)

    # Sketch79 → Cut-Extrude37 (cut)
    with BuildSketch(Plane.ZY.offset(-26)):
        with Locations((-16.125, 6.75)):
            Rectangle(SKETCH79_W, SKETCH79_H)
    extrude(amount=-CUT_EXTRUDE37_DEPTH, mode=Mode.SUBTRACT)

    # Sketch80 → Cut-Extrude38 (cut)
    with BuildSketch(Plane.ZY.offset(-26)):
        with Locations((8.75, 22.5)):
            Circle(SKETCH80_R)
        with Locations((-21.75, 22.5)):
            Circle(SKETCH80_R)
    extrude(amount=-CUT_EXTRUDE38_DEPTH, mode=Mode.SUBTRACT)

    # Sketch81 → Cut-Extrude39 (cut)
    with BuildSketch(Plane.ZY.offset(-26)):
        with Locations((8.75, 22)):
            Rectangle(SKETCH81_W, SKETCH81_H)
        with Locations((-21.75, 22)):
            Rectangle(SKETCH81_W, SKETCH81_H)
    extrude(amount=-CUT_EXTRUDE39_DEPTH, mode=Mode.SUBTRACT)

    # Sketch82 → Cut-Extrude41 (cut)
    with BuildSketch(Plane.XZ.offset(-46.002337122)):
        Polygon((97, -18.017949192), (94, -16.285898385), (91, -18.017949192), (91, -21.482050808), (94, -23.214101615), (97, -21.482050808), align=None)
        Polygon((97, 8.482050808), (94, 10.214101615), (91, 8.482050808), (91, 5.017949192), (94, 3.285898385), (97, 5.017949192), align=None)
    extrude(amount=-CUT_EXTRUDE41_DEPTH, mode=Mode.SUBTRACT)

    # Sketch83 → Boss-Extrude37 (add)
    with BuildSketch(Plane.XZ.offset(20)):
        with Locations((53, -6.5)):
            Rectangle(SKETCH83_W, SKETCH83_H)
    extrude(amount=-BOSS_EXTRUDE37_DEPTH)

    # Sketch84 → Boss-Extrude38 (add)
    with BuildSketch(Plane(origin=(80, 0, 0), x_dir=(0, 0, -1), z_dir=(1, 0, 0))):
        with Locations((26.75, 15.251168561)):
            Rectangle(SKETCH84_W, SKETCH84_H)
        with Locations((-13.75, 15.251168561)):
            Rectangle(SKETCH84_W, SKETCH84_H)
    extrude(amount=-BOSS_EXTRUDE38_DEPTH)

    # Sketch85 → Boss-Extrude40 (add)
    with BuildSketch(Plane.XZ.offset(-46.002337122)):
        with Locations((88, -26.25)):
            Rectangle(SKETCH85_W, SKETCH85_H)
        with Locations((88, 13.25)):
            Rectangle(SKETCH85_W, SKETCH85_H)
    extrude(amount=-BOSS_EXTRUDE40_DEPTH)

    # Sketch87 → Boss-Extrude41 (add)
    with BuildSketch(Plane.XY.offset(14.75)):
        Polygon((80, 50.002337122), (26, -20), (80, -20), align=None)
    extrude(amount=BOSS_EXTRUDE41_DEPTH)

    # Sketch88 → Boss-Extrude42 (add)
    with BuildSketch(Plane.XY.offset(14.75)):
        Polygon((80, -20), (100, 50.002337122), (80, 50.002337122), align=None)
    extrude(amount=BOSS_EXTRUDE42_DEPTH)

    # Sketch89 → Boss-Extrude43 (add)
    with BuildSketch(Plane.ZY.offset(-26)):
        with Locations((15.75, 2.75)):
            Rectangle(SKETCH89_W, SKETCH89_H)
    extrude(amount=-BOSS_EXTRUDE43_DEPTH)

    # Sketch90 → Boss-Extrude44 (add)
    with BuildSketch(Plane.XY.offset(18.75)):
        Polygon((28, -17.407320847), (80, 50.002337122), (28, 4.046339576), align=None)
    extrude(amount=-BOSS_EXTRUDE44_DEPTH)

    # Sketch91 → Cut-Extrude42 (cut)
    with BuildSketch(Plane.ZY.offset(-26)):
        with Locations((10.25, -9)):
            Circle(SKETCH91_R)
    extrude(amount=-CUT_EXTRUDE42_DEPTH, mode=Mode.SUBTRACT)

    # Sketch92 → Cut-Extrude43 (cut)
    with BuildSketch(Plane.ZY.offset(-26)):
        with Locations((7.25, -9)):
            Circle(SKETCH92_R)
    extrude(amount=-CUT_EXTRUDE43_DEPTH, mode=Mode.SUBTRACT)

    # Sketch93 → Cut-Extrude44 (cut)
    with BuildSketch(Plane.ZY.offset(-26)):
        with Locations((8.75, -9)):
            Rectangle(SKETCH93_W, SKETCH93_H)
    extrude(amount=-CUT_EXTRUDE44_DEPTH, mode=Mode.SUBTRACT)

    # Sketch95 → Boss-Extrude45 (add)
    with BuildSketch(Plane.ZY.offset(-26)):
        with Locations((-4.5, -17.75)):
            Rectangle(SKETCH95_W, SKETCH95_H)
    extrude(amount=BOSS_EXTRUDE45_DEPTH)

    # Sketch96 → Boss-Extrude47 (add)
    with BuildSketch(Plane.XZ.offset(20)):
        with Locations((76.35, 16.75)):
            Rectangle(SKETCH96_W, SKETCH96_H)
    extrude(amount=BOSS_EXTRUDE47_DEPTH)

    # Sketch99 → Cut-Extrude47 (cut)
    with BuildSketch(Plane.XY.offset(18.75)):
        with Locations((76.35, -34)):
            Circle(SKETCH99_R)
    extrude(amount=-CUT_EXTRUDE47_DEPTH, mode=Mode.SUBTRACT)

    # Sketch100 → Boss-Extrude48 (add)
    with BuildSketch(Plane.XZ.offset(20)):
        with Locations((24, 16.75)):
            Rectangle(SKETCH100_W, SKETCH100_H)
    extrude(amount=BOSS_EXTRUDE48_DEPTH)

    # Sketch101 → Boss-Extrude50 (add)
    with BuildSketch(Plane(origin=(27, 0, 0), x_dir=(0, 0, -1), z_dir=(1, 0, 0))):
        with Locations((-16.75, -67.25)):
            Rectangle(SKETCH101_W, SKETCH101_H)
    extrude(amount=BOSS_EXTRUDE50_DEPTH)

    # Sketch103 → Cut-Extrude48 (cut)
    with BuildSketch(Plane.XY.offset(18.75)):
        with Locations((30, -67)):
            Circle(SKETCH103_R)
    extrude(amount=-CUT_EXTRUDE48_DEPTH, mode=Mode.SUBTRACT)

    # Sketch104 → Cut-Extrude49 (cut)
    with BuildSketch(Plane.XY.offset(18.75)):
        with Locations((76.35, -29)):
            Rectangle(SKETCH104_W, SKETCH104_H)
    extrude(amount=-CUT_EXTRUDE49_DEPTH, mode=Mode.SUBTRACT)

    # Sketch105 → Boss-Extrude51 (add)
    with BuildSketch(Plane.XZ.offset(20)):
        with Locations((76.75, 16.75)):
            Rectangle(SKETCH105_W, SKETCH105_H)
    extrude(amount=BOSS_EXTRUDE51_DEPTH)

    # Sketch106 → Cut-Extrude50 (cut)
    with BuildSketch(Plane.XY.offset(18.75)):
        with Locations((77, -34)):
            Circle(SKETCH106_R)
    extrude(amount=-CUT_EXTRUDE50_DEPTH, mode=Mode.SUBTRACT)

    # Sketch107 → Boss-Extrude52 (add)
    with BuildSketch(Plane(origin=(80, 0, 0), x_dir=(0, 0, -1), z_dir=(1, 0, 0))):
        Polygon((-14.75, -29), (27.75, -20), (-14.75, -20), align=None)
    extrude(amount=-BOSS_EXTRUDE52_DEPTH)

    # Sketch110 → Boss-Extrude53 (add)
    with BuildSketch(Plane.ZY.offset(-21)):
        Polygon((-27.75, -20), (14.75, -63.5), (14.75, -20), align=None)
    extrude(amount=-BOSS_EXTRUDE53_DEPTH)


solid = part.part
